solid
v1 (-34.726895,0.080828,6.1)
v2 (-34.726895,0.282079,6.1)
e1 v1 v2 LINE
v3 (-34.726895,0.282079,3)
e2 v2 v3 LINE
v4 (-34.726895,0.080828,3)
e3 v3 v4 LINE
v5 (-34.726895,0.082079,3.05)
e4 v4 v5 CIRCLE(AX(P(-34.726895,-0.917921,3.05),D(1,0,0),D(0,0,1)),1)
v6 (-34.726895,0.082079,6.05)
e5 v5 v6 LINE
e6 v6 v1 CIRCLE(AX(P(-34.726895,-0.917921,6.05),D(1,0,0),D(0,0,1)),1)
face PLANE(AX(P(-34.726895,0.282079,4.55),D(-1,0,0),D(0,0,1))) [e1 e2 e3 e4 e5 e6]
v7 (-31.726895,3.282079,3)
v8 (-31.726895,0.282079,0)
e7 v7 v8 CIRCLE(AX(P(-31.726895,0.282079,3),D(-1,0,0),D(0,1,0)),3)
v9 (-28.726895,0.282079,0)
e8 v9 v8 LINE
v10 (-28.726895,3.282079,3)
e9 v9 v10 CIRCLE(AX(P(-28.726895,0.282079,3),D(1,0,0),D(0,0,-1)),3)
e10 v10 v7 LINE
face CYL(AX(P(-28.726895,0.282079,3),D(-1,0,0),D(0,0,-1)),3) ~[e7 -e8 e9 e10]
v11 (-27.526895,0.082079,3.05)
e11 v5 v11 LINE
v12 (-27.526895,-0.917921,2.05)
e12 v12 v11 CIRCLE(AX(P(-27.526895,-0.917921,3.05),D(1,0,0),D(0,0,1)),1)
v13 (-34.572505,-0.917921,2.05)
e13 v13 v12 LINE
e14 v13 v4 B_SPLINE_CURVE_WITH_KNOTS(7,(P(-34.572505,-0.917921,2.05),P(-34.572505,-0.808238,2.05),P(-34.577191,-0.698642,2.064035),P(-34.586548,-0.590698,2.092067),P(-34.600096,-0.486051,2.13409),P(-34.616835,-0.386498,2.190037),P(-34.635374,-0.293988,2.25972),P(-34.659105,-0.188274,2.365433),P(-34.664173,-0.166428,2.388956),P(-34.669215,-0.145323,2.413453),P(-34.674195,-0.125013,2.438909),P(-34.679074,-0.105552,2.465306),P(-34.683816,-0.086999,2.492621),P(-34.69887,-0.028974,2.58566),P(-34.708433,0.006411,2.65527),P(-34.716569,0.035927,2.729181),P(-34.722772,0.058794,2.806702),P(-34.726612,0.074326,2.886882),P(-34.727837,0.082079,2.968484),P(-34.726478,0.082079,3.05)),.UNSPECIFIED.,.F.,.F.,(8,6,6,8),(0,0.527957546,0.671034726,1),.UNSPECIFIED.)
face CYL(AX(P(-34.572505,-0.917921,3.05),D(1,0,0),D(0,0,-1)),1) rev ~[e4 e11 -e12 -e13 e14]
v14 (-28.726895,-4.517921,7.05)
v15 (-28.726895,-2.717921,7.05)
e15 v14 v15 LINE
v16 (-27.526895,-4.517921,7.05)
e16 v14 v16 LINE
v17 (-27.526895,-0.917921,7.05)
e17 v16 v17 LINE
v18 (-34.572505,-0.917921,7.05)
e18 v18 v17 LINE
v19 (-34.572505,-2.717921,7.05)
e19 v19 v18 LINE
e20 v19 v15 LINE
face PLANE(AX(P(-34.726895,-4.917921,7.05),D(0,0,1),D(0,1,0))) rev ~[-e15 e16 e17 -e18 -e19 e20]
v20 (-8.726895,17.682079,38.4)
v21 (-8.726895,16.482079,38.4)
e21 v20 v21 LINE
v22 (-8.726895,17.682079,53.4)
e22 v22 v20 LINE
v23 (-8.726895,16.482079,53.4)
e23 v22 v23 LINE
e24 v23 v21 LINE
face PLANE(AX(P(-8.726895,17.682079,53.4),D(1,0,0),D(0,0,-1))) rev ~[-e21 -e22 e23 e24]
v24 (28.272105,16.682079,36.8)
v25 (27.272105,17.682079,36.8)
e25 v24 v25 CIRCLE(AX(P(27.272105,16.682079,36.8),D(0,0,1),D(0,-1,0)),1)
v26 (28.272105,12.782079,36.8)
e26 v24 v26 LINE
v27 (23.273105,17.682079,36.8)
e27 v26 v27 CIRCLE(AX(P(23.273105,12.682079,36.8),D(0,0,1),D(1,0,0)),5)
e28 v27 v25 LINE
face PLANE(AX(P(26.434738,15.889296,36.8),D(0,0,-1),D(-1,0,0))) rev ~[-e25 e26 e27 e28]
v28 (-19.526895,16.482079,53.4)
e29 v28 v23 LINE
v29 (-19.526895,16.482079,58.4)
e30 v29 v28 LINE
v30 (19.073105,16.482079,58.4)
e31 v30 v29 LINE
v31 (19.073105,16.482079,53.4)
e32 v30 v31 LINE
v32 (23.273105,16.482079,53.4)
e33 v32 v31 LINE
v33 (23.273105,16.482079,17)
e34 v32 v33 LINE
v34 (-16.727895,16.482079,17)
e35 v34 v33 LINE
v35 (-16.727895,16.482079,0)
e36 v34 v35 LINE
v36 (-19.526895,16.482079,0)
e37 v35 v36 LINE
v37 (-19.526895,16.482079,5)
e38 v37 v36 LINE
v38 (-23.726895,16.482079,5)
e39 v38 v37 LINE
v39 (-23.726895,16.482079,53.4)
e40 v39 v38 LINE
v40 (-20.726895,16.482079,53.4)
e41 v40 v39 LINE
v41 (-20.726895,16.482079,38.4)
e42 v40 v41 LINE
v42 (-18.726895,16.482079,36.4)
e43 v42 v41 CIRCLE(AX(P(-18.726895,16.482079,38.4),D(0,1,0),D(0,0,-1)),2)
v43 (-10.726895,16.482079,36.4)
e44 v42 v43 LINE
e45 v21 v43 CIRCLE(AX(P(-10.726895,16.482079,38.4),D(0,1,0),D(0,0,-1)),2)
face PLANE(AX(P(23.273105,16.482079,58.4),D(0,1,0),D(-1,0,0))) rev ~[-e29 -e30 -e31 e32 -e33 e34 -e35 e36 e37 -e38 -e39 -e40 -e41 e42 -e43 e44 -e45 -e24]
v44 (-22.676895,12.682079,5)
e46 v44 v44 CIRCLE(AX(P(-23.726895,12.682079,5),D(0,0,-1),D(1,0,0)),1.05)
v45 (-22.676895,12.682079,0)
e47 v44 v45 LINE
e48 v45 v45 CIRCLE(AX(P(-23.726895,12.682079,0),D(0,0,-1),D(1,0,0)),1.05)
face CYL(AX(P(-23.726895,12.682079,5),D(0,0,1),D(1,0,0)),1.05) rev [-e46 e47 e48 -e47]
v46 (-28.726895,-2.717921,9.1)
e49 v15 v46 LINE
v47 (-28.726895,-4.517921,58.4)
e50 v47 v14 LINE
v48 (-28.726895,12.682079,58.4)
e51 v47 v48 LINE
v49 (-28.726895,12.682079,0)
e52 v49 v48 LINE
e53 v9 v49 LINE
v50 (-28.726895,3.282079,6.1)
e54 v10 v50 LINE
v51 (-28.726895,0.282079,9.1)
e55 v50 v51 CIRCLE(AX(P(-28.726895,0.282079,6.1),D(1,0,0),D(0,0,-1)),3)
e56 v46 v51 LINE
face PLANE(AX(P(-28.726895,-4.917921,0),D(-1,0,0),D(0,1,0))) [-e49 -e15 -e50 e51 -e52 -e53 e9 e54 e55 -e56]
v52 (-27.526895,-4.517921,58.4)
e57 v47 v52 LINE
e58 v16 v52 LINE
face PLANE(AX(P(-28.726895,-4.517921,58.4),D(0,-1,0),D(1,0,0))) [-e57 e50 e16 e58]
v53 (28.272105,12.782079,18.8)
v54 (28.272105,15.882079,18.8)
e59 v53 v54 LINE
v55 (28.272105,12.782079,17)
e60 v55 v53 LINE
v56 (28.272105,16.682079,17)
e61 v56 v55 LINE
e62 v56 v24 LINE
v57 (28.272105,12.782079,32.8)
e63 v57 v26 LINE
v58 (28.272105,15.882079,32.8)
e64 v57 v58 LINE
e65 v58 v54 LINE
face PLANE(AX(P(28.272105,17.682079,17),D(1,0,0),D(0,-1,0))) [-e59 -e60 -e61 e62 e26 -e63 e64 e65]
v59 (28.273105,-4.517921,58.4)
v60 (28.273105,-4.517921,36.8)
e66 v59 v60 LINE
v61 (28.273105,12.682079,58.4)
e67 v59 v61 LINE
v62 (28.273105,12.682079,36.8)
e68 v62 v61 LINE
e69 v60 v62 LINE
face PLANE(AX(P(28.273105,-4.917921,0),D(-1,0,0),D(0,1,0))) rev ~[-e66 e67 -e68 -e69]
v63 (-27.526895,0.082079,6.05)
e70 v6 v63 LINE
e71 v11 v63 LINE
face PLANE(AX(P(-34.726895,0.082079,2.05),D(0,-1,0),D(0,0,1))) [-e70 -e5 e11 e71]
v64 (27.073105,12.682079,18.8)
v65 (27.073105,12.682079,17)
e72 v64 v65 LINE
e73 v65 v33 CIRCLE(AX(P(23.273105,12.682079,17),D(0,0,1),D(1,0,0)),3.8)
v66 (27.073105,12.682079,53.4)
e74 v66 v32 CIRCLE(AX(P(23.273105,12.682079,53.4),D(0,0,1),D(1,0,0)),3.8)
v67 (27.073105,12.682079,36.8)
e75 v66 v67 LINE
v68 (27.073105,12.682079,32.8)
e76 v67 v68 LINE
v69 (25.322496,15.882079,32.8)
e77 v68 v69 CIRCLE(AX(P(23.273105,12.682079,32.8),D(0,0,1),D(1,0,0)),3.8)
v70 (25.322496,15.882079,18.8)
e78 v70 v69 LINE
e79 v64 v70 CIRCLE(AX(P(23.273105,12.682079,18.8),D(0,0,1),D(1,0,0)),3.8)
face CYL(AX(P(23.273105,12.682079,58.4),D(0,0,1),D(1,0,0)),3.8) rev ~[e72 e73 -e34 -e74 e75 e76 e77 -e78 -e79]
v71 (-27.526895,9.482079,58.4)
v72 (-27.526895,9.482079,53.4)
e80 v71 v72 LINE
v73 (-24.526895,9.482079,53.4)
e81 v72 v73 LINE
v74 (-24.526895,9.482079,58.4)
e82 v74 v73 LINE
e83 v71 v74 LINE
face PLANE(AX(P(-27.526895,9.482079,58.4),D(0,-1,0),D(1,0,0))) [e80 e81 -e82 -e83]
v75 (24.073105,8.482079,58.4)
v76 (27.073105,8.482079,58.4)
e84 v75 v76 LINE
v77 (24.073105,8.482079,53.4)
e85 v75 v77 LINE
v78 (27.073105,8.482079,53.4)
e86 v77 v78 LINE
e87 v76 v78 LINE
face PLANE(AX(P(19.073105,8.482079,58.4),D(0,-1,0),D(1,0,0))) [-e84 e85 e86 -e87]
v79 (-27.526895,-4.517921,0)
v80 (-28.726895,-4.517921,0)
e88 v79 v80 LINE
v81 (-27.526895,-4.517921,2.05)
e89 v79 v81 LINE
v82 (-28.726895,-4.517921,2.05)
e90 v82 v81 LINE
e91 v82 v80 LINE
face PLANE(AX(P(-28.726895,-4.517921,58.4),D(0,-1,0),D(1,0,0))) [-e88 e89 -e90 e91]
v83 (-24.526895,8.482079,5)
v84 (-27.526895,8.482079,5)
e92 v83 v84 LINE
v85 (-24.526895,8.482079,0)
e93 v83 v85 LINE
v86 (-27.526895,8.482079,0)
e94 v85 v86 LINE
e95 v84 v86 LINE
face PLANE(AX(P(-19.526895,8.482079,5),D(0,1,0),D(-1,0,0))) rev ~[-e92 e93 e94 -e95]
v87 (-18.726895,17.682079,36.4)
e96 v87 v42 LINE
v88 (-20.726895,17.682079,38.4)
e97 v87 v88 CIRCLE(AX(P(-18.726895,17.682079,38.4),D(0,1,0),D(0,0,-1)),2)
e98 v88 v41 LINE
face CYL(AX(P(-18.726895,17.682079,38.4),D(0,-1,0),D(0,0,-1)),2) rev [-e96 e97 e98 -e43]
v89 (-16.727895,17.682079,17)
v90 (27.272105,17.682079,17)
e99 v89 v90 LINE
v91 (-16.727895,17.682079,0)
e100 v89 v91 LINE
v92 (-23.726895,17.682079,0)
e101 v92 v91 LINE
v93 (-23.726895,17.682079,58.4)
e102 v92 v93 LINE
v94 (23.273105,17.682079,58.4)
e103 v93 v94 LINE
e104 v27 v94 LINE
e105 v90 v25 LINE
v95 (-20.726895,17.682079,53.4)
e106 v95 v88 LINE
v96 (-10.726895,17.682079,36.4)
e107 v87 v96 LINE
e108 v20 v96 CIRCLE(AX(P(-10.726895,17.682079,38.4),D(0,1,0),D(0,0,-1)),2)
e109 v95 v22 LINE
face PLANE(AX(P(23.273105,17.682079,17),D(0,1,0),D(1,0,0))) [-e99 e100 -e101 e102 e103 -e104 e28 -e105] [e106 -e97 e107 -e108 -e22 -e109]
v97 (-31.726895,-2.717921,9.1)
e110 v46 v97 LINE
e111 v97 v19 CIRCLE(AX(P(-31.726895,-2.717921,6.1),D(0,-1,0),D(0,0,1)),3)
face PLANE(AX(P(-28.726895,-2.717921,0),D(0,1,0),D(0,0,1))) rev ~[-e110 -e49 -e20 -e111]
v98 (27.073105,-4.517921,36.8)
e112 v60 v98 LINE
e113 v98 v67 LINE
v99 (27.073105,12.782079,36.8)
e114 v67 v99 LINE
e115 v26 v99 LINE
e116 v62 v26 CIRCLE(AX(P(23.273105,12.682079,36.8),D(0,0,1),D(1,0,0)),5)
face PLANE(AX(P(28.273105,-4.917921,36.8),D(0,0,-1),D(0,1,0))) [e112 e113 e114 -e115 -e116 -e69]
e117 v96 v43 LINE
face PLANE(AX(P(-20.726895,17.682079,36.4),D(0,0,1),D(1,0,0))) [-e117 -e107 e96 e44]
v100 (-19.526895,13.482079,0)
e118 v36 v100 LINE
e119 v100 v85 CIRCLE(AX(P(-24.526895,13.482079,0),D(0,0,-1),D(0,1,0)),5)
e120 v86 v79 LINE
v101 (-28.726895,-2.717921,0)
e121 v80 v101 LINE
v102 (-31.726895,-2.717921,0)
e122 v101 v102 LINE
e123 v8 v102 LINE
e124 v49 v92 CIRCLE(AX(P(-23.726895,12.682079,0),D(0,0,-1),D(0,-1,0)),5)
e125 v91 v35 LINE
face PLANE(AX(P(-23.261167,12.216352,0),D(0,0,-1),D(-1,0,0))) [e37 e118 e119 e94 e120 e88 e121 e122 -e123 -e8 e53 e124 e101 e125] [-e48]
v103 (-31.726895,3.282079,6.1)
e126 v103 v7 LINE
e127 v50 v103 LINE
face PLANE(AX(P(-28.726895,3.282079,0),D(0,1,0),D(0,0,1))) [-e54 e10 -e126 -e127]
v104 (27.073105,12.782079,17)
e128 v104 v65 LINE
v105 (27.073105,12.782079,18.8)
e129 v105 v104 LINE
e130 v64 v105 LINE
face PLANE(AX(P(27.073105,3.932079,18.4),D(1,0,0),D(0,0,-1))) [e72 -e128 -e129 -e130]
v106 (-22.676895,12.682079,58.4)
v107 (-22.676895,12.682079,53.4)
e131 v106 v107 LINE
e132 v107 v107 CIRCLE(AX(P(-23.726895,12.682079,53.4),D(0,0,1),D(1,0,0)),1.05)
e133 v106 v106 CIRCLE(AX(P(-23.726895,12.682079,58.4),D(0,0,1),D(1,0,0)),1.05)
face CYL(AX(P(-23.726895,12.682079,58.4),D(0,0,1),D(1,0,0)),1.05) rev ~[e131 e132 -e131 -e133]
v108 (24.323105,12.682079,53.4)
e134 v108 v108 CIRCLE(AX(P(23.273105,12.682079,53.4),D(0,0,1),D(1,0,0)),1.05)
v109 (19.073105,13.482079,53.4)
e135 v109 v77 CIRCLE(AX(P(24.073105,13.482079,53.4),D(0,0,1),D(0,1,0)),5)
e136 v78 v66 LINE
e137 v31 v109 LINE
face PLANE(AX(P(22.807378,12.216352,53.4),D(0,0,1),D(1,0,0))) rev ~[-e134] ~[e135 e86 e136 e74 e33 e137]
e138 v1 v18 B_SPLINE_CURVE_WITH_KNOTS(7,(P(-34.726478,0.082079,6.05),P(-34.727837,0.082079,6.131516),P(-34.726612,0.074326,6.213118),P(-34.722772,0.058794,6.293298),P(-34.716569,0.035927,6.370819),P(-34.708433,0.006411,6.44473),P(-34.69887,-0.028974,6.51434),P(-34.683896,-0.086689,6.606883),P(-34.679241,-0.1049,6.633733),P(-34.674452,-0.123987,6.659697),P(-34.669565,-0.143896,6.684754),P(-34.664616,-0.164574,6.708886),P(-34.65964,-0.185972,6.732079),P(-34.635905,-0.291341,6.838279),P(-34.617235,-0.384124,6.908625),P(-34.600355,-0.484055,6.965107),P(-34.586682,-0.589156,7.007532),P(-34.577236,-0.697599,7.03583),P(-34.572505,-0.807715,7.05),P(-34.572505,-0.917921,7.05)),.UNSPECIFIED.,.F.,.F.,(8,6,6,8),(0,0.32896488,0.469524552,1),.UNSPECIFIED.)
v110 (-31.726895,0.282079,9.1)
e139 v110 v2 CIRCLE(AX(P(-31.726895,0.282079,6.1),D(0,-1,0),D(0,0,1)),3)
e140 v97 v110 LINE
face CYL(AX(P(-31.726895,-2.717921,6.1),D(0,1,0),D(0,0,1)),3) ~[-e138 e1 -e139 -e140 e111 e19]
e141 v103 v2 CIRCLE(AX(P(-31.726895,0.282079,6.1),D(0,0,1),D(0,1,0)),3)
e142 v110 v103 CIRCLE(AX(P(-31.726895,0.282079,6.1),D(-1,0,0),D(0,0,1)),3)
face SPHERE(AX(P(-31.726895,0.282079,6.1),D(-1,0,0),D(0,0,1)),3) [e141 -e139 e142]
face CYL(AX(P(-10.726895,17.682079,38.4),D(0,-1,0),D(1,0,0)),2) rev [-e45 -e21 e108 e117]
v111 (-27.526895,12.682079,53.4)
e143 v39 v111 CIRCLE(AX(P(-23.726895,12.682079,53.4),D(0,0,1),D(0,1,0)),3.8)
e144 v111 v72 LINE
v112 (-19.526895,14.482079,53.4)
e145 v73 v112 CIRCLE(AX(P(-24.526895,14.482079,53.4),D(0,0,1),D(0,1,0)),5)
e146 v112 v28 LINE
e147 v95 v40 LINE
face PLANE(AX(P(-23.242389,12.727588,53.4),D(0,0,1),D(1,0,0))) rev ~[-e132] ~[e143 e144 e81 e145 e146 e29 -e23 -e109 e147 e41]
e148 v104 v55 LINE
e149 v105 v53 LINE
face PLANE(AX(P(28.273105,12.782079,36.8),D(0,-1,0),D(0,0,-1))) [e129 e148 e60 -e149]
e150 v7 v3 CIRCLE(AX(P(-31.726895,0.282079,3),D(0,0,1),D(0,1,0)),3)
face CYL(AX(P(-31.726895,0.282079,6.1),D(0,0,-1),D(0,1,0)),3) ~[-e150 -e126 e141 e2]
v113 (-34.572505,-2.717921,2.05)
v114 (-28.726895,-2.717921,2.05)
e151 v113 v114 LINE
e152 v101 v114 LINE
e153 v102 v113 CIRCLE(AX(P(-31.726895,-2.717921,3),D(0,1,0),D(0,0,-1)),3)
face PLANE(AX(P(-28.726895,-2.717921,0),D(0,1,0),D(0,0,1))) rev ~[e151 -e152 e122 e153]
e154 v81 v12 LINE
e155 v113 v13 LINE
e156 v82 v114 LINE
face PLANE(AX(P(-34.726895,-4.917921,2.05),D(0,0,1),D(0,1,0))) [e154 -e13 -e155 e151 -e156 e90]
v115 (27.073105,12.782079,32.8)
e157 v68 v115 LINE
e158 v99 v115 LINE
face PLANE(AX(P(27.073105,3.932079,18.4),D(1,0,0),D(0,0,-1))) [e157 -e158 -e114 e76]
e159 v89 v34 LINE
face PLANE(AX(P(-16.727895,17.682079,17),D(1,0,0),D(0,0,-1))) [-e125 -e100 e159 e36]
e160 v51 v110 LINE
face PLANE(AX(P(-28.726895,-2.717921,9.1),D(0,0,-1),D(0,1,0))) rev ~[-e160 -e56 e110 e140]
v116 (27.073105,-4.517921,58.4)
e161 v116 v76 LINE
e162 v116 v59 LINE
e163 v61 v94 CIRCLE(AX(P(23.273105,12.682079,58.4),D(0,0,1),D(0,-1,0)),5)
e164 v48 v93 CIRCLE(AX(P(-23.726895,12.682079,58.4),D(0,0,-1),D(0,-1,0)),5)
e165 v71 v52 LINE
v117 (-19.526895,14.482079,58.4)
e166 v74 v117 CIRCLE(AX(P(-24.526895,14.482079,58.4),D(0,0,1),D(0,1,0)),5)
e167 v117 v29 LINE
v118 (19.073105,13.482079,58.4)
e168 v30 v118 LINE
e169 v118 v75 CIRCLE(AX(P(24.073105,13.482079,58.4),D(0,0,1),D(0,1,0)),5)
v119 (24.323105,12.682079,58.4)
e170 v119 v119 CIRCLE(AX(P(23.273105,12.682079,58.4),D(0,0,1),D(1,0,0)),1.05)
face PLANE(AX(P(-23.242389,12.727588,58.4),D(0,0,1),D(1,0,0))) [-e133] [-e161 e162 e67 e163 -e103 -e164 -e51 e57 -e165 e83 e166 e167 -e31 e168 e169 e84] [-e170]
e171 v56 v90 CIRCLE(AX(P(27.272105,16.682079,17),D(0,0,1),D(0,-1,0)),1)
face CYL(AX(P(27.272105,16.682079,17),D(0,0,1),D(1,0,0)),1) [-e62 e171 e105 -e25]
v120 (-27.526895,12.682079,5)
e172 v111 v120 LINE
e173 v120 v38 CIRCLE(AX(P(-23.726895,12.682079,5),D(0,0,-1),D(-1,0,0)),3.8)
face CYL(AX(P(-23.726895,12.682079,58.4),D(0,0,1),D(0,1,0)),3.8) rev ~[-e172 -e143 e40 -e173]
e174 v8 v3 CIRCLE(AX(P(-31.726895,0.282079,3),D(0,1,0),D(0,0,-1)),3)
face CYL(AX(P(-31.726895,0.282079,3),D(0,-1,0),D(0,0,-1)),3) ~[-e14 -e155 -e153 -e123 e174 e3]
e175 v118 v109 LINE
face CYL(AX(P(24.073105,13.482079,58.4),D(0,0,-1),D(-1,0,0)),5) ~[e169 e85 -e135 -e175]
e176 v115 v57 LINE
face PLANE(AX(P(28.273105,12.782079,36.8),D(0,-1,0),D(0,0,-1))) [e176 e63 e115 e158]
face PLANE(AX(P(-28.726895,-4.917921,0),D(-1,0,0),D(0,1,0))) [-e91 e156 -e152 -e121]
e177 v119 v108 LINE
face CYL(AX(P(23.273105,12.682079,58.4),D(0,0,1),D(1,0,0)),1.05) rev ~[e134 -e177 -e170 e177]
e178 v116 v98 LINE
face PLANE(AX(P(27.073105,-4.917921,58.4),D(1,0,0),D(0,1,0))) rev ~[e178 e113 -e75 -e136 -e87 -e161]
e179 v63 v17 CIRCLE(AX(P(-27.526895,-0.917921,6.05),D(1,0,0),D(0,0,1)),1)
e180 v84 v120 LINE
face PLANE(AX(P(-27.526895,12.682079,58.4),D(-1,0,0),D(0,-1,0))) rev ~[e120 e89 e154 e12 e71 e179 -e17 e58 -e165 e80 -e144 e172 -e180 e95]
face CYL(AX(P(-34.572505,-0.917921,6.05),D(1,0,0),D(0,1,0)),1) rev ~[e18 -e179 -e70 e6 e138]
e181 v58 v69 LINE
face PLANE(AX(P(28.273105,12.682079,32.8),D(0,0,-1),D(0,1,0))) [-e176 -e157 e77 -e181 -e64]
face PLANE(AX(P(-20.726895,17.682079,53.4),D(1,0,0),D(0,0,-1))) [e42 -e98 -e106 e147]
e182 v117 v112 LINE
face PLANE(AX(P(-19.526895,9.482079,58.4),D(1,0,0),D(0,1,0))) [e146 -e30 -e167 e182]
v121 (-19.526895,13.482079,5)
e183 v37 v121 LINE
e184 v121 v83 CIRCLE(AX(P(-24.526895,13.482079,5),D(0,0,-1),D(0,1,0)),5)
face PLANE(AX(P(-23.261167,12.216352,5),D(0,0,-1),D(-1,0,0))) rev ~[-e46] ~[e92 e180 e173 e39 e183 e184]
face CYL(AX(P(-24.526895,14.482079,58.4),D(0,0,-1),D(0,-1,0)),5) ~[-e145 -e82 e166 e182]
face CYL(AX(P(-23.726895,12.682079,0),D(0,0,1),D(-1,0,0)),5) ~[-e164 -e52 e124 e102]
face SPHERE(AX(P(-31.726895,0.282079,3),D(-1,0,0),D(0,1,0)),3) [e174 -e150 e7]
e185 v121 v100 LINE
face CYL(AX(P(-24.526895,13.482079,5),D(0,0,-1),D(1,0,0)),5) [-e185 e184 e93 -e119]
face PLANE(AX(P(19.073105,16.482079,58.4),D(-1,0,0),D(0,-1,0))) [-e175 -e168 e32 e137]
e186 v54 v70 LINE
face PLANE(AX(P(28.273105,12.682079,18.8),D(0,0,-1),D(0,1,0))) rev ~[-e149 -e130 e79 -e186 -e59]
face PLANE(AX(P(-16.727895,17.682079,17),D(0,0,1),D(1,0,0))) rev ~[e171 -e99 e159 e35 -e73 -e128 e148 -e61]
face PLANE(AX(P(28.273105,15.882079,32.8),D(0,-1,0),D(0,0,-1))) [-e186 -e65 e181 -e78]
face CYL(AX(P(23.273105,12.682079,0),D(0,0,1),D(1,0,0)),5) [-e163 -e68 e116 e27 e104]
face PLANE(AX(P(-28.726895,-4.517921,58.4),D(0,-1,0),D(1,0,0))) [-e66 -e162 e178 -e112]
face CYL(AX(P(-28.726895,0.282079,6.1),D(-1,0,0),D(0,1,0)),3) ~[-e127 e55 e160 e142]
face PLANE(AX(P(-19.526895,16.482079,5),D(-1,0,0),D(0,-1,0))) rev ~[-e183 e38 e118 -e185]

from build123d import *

# Parameters (mm, degrees)
SKETCH1_W           = 57
SKETCH1_H           = 22.6
BOSS_EXTRUDE1_DEPTH = 58.4
FILLET1_R           = 5
CUT_EXTRUDE1_DEPTH  = 58.4
SKETCH3_W           = 36.8
SKETCH3_H           = 17.7
CUT_EXTRUDE2_DEPTH  = 1.2
SKETCH5_W           = 45
SKETCH5_H           = 17
CUT_EXTRUDE5_DEPTH  = 69.895242719
SKETCH6_W           = 12
SKETCH6_H           = 17
CUT_EXTRUDE6_DEPTH  = 1.2
FILLET3_R           = 2
SKETCH7_R           = 1.05
BOSS_EXTRUDE2_DEPTH = 5
FILLET4_R           = 5
BOSS_EXTRUDE3_START = -5
SKETCH8_R           = 1.05
BOSS_EXTRUDE3_DEPTH = 5
FILLET5_R           = 5
SKETCH10_W          = 9.1
SKETCH10_H          = 6
BOSS_EXTRUDE4_DEPTH = 6
CUT_EXTRUDE8_REACH  = 89.705
SKETCH11_W          = 5
SKETCH11_H          = 5
FILLET6_R           = 3
FILLET7_R           = 3
FILLET8_R           = 1
SKETCH12_W          = 57
SKETCH12_H          = 0.4
CUT_EXTRUDE9_DEPTH  = 71.208070265
BOSS_EXTRUDE5_DEPTH = 19.8
SKETCH4_W           = 14
SKETCH4_H           = 3.2
CUT_EXTRUDE3_DEPTH  = 5
FILLET9_R           = 1


with BuildPart() as part:
    # Sketch1 → Boss-Extrude1 (new body)
    with BuildSketch(Plane.XY):
        with Locations((-0.22689453, 6.382078673)):
            Rectangle(SKETCH1_W, SKETCH1_H)
    extrude(amount=BOSS_EXTRUDE1_DEPTH)

    # Fillet1
    fillet1_edges = [part.edges().sort_by_distance(p)[0] for p in [
        (-28.72689453, 17.682078673, 29.2),
        (28.27310547, 17.682078673, 29.2),
    ]]
    fillet(fillet1_edges, radius=FILLET1_R)

    # Sketch2 → Cut-Extrude1 (cut)
    with BuildSketch(Plane.XY.offset(58.4)):
        with BuildLine():
            Line((-27.52689453, -4.917921327), (27.07310547, -4.917921327))
            Line((27.07310547, -4.917921327), (27.07310547, 12.682078673))
            ThreePointArc((27.07310547, 12.682078673), (25.960111239, 15.369084441), (23.27310547, 16.482078673))
            Line((23.27310547, 16.482078673), (-23.72689453, 16.482078673))
            ThreePointArc((-23.72689453, 16.482078673), (-26.413900298, 15.369084441), (-27.52689453, 12.682078673))
            Line((-27.52689453, 12.682078673), (-27.52689453, -4.917921327))
        make_face()
    extrude(amount=-CUT_EXTRUDE1_DEPTH, mode=Mode.SUBTRACT)

    # Sketch3 → Cut-Extrude2 (cut)
    with BuildSketch(Plane(origin=(28.27310547, 0, 0), x_dir=(0, 0, -1), z_dir=(1, 0, 0))):
        with Locations((-18.4, 3.932078673)):
            Rectangle(SKETCH3_W, SKETCH3_H)
    extrude(amount=-CUT_EXTRUDE2_DEPTH, mode=Mode.SUBTRACT)

    # Sketch5 → Cut-Extrude5 (cut, through all)
    with BuildSketch(Plane(origin=(0, 17.682078673, 0), x_dir=(1, 0, 0), z_dir=(0, 1, 0))):
        with Locations((5.77210537, -8.5)):
            Rectangle(SKETCH5_W, SKETCH5_H)
    extrude(amount=-CUT_EXTRUDE5_DEPTH, mode=Mode.SUBTRACT)

    # Sketch6 → Cut-Extrude6 (cut)
    with BuildSketch(Plane(origin=(0, 17.682078673, 0), x_dir=(1, 0, 0), z_dir=(0, 1, 0))):
        with Locations((-14.72689453, -44.9)):
            Rectangle(SKETCH6_W, SKETCH6_H)
    extrude(amount=-CUT_EXTRUDE6_DEPTH, mode=Mode.SUBTRACT)

    # Fillet3
    fillet3_edges = [part.edges().sort_by_distance(p)[0] for p in [
        (-20.72689453, 17.082078673, 36.4),
        (-8.72689453, 17.082078673, 36.4),
    ]]
    fillet(fillet3_edges, radius=FILLET3_R)

    # Sketch7 → Boss-Extrude2 (add)
    # profile 1 of 2: a face of its own
    with BuildSketch(Plane.XY.offset(58.4)):
        with BuildLine():
            Line((-27.52689453, 9.482078673), (-19.52689453, 9.482078673))
            Line((-19.52689453, 9.482078673), (-19.52689453, 16.482078673))
            Line((-19.52689453, 16.482078673), (-23.72689453, 16.482078673))
            ThreePointArc((-23.72689453, 16.482078673), (-26.413900298, 15.369084441), (-27.52689453, 12.682078673))
            Line((-27.52689453, 12.682078673), (-27.52689453, 9.482078673))
        make_face()
        with Locations((-23.72689453, 12.682078673)):
            Circle(SKETCH7_R, mode=Mode.SUBTRACT)
    # profile 2 of 2: a face of its own
    with BuildSketch(Plane.XY.offset(58.4)):
        with BuildLine():
            Line((19.07310547, 16.482078673), (19.07310547, 8.482078673))
            Line((19.07310547, 8.482078673), (27.07310547, 8.482078673))
            Line((27.07310547, 8.482078673), (27.07310547, 12.682078673))
            ThreePointArc((27.07310547, 12.682078673), (25.960111239, 15.369084441), (23.27310547, 16.482078673))
            Line((23.27310547, 16.482078673), (19.07310547, 16.482078673))
        make_face()
        with Locations((23.27310547, 12.682078673)):
            Circle(SKETCH7_R, mode=Mode.SUBTRACT)
    extrude(amount=-BOSS_EXTRUDE2_DEPTH)

    # Fillet4
    fillet4_edges = [part.edges().sort_by_distance(p)[0] for p in [
        (-19.52689453, 9.482078673, 55.9),
        (19.07310547, 8.482078673, 55.9),
    ]]
    fillet(fillet4_edges, radius=FILLET4_R)

    # Sketch8 → Boss-Extrude3 (add)
    with BuildSketch(Plane(origin=(0, 0, 0), x_dir=(-1, 0, 0), z_dir=(0, 0, -1)).offset(BOSS_EXTRUDE3_START)):
        with BuildLine():
            Line((19.52689453, 16.482078673), (19.52689453, 8.482078673))
            Line((19.52689453, 8.482078673), (27.52689453, 8.482078673))
            Line((27.52689453, 8.482078673), (27.52689453, 12.682078673))
            ThreePointArc((27.52689453, 12.682078673), (26.413900298, 15.369084441), (23.72689453, 16.482078673))
            Line((23.72689453, 16.482078673), (19.52689453, 16.482078673))
        make_face()
        with Locations(Location((23.72689453, 12.682078673, 0), (0, 0, 180))):
            Circle(SKETCH8_R, mode=Mode.SUBTRACT)
    extrude(amount=BOSS_EXTRUDE3_DEPTH)

    # Fillet5
    fillet5_edges = [part.edges().sort_by_distance(p)[0] for p in [
        (-19.52689453, 8.482078673, 2.5),
    ]]
    fillet(fillet5_edges, radius=FILLET5_R)

    # Sketch10 → Boss-Extrude4 (add)
    with BuildSketch(Plane.ZY.offset(28.72689453)):
        with Locations((4.55, 0.282078673)):
            Rectangle(SKETCH10_W, SKETCH10_H)
    extrude(amount=BOSS_EXTRUDE4_DEPTH)

    # Cut-Extrude8: up to this face of the body (flat: up to its plane)
    cut_extrude8_end = Plane(part.part.faces().sort_by_distance((-27.52689453, 3.623812959, 29.334734165))[0])
    # Sketch11 → Cut-Extrude8 (cut, up to the picked face)
    with BuildSketch(Plane.ZY.offset(34.72689453), mode=Mode.PRIVATE) as cut_extrude8_sk1:
        with Locations((4.55, -2.417921327)):
            Rectangle(SKETCH11_W, SKETCH11_H)
    cut_extrude8_tool1 = split(extrude(cut_extrude8_sk1.sketch, amount=-CUT_EXTRUDE8_REACH, mode=Mode.PRIVATE), bisect_by=cut_extrude8_end, keep=Keep.BOTH, mode=Mode.PRIVATE)
    add(cut_extrude8_tool1.solids().sort_by(Axis((-34.726895, -2.417921, 4.55), (1, 0, 0)))[0], mode=Mode.SUBTRACT)

    # Fillet6
    fillet6_edges = [part.edges().sort_by_distance(p)[0] for p in [
        (-31.72689453, 3.282078673, 0),
        (-31.72689453, 3.282078673, 9.1),
    ]]
    fillet(fillet6_edges, radius=FILLET6_R)

    # Fillet7
    fillet7_edges = [part.edges().sort_by_distance(p)[0] for p in [
        (-34.72689453, -1.217921327, 9.1),
        (-34.72689453, 2.403399016, 8.221320344),
        (-34.72689453, -1.217921327, 0),
        (-34.72689453, 2.403399016, 0.878679656),
        (-34.72689453, 3.282078673, 4.55),
    ]]
    fillet(fillet7_edges, radius=FILLET7_R)

    # Fillet8
    fillet8_edges = [part.edges().sort_by_distance(p)[0] for p in [
        (-31.049699857, 0.082078673, 7.05),
        (-31.049699857, 0.082078673, 2.05),
    ]]
    fillet(fillet8_edges, radius=FILLET8_R)

    # Sketch12 → Cut-Extrude9 (cut, through all)
    with BuildSketch(Plane.XY.offset(58.4)):
        with Locations((-0.22689453, -4.717921327)):
            Rectangle(SKETCH12_W, SKETCH12_H)
    extrude(amount=-CUT_EXTRUDE9_DEPTH, mode=Mode.SUBTRACT)

    # Sketch15 → Boss-Extrude5 (add)
    with BuildSketch(Plane(origin=(0, 0, 17), x_dir=(-1, 0, 0), z_dir=(0, 0, -1))):
        with BuildLine():
            Line((-28.27210537, 12.782078673), (-27.27310547, 12.782078673))
            ThreePointArc((-27.27310547, 12.782078673), (-26.101532595, 15.610505797), (-23.27310547, 16.782078673))
            Line((-23.27310547, 16.782078673), (-23.27310547, 17.682078673))
            Line((-23.27310547, 17.682078673), (-28.27210537, 17.682078673))
            Line((-28.27210537, 17.682078673), (-28.27210537, 12.782078673))
        make_face()
    extrude(amount=-BOSS_EXTRUDE5_DEPTH)

    # Sketch4 → Cut-Extrude3 (cut)
    with BuildSketch(Plane(origin=(28.27310547, 0, 0), x_dir=(0, 0, -1), z_dir=(1, 0, 0))):
        with Locations((-25.8, 14.282078673)):
            Rectangle(SKETCH4_W, SKETCH4_H)
    extrude(amount=-CUT_EXTRUDE3_DEPTH, mode=Mode.SUBTRACT)

    # Fillet9
    fillet9_edges = [part.edges().sort_by_distance(p)[0] for p in [
        (28.27210537, 17.682078673, 26.9),
    ]]
    fillet(fillet9_edges, radius=FILLET9_R)


solid = part.part
